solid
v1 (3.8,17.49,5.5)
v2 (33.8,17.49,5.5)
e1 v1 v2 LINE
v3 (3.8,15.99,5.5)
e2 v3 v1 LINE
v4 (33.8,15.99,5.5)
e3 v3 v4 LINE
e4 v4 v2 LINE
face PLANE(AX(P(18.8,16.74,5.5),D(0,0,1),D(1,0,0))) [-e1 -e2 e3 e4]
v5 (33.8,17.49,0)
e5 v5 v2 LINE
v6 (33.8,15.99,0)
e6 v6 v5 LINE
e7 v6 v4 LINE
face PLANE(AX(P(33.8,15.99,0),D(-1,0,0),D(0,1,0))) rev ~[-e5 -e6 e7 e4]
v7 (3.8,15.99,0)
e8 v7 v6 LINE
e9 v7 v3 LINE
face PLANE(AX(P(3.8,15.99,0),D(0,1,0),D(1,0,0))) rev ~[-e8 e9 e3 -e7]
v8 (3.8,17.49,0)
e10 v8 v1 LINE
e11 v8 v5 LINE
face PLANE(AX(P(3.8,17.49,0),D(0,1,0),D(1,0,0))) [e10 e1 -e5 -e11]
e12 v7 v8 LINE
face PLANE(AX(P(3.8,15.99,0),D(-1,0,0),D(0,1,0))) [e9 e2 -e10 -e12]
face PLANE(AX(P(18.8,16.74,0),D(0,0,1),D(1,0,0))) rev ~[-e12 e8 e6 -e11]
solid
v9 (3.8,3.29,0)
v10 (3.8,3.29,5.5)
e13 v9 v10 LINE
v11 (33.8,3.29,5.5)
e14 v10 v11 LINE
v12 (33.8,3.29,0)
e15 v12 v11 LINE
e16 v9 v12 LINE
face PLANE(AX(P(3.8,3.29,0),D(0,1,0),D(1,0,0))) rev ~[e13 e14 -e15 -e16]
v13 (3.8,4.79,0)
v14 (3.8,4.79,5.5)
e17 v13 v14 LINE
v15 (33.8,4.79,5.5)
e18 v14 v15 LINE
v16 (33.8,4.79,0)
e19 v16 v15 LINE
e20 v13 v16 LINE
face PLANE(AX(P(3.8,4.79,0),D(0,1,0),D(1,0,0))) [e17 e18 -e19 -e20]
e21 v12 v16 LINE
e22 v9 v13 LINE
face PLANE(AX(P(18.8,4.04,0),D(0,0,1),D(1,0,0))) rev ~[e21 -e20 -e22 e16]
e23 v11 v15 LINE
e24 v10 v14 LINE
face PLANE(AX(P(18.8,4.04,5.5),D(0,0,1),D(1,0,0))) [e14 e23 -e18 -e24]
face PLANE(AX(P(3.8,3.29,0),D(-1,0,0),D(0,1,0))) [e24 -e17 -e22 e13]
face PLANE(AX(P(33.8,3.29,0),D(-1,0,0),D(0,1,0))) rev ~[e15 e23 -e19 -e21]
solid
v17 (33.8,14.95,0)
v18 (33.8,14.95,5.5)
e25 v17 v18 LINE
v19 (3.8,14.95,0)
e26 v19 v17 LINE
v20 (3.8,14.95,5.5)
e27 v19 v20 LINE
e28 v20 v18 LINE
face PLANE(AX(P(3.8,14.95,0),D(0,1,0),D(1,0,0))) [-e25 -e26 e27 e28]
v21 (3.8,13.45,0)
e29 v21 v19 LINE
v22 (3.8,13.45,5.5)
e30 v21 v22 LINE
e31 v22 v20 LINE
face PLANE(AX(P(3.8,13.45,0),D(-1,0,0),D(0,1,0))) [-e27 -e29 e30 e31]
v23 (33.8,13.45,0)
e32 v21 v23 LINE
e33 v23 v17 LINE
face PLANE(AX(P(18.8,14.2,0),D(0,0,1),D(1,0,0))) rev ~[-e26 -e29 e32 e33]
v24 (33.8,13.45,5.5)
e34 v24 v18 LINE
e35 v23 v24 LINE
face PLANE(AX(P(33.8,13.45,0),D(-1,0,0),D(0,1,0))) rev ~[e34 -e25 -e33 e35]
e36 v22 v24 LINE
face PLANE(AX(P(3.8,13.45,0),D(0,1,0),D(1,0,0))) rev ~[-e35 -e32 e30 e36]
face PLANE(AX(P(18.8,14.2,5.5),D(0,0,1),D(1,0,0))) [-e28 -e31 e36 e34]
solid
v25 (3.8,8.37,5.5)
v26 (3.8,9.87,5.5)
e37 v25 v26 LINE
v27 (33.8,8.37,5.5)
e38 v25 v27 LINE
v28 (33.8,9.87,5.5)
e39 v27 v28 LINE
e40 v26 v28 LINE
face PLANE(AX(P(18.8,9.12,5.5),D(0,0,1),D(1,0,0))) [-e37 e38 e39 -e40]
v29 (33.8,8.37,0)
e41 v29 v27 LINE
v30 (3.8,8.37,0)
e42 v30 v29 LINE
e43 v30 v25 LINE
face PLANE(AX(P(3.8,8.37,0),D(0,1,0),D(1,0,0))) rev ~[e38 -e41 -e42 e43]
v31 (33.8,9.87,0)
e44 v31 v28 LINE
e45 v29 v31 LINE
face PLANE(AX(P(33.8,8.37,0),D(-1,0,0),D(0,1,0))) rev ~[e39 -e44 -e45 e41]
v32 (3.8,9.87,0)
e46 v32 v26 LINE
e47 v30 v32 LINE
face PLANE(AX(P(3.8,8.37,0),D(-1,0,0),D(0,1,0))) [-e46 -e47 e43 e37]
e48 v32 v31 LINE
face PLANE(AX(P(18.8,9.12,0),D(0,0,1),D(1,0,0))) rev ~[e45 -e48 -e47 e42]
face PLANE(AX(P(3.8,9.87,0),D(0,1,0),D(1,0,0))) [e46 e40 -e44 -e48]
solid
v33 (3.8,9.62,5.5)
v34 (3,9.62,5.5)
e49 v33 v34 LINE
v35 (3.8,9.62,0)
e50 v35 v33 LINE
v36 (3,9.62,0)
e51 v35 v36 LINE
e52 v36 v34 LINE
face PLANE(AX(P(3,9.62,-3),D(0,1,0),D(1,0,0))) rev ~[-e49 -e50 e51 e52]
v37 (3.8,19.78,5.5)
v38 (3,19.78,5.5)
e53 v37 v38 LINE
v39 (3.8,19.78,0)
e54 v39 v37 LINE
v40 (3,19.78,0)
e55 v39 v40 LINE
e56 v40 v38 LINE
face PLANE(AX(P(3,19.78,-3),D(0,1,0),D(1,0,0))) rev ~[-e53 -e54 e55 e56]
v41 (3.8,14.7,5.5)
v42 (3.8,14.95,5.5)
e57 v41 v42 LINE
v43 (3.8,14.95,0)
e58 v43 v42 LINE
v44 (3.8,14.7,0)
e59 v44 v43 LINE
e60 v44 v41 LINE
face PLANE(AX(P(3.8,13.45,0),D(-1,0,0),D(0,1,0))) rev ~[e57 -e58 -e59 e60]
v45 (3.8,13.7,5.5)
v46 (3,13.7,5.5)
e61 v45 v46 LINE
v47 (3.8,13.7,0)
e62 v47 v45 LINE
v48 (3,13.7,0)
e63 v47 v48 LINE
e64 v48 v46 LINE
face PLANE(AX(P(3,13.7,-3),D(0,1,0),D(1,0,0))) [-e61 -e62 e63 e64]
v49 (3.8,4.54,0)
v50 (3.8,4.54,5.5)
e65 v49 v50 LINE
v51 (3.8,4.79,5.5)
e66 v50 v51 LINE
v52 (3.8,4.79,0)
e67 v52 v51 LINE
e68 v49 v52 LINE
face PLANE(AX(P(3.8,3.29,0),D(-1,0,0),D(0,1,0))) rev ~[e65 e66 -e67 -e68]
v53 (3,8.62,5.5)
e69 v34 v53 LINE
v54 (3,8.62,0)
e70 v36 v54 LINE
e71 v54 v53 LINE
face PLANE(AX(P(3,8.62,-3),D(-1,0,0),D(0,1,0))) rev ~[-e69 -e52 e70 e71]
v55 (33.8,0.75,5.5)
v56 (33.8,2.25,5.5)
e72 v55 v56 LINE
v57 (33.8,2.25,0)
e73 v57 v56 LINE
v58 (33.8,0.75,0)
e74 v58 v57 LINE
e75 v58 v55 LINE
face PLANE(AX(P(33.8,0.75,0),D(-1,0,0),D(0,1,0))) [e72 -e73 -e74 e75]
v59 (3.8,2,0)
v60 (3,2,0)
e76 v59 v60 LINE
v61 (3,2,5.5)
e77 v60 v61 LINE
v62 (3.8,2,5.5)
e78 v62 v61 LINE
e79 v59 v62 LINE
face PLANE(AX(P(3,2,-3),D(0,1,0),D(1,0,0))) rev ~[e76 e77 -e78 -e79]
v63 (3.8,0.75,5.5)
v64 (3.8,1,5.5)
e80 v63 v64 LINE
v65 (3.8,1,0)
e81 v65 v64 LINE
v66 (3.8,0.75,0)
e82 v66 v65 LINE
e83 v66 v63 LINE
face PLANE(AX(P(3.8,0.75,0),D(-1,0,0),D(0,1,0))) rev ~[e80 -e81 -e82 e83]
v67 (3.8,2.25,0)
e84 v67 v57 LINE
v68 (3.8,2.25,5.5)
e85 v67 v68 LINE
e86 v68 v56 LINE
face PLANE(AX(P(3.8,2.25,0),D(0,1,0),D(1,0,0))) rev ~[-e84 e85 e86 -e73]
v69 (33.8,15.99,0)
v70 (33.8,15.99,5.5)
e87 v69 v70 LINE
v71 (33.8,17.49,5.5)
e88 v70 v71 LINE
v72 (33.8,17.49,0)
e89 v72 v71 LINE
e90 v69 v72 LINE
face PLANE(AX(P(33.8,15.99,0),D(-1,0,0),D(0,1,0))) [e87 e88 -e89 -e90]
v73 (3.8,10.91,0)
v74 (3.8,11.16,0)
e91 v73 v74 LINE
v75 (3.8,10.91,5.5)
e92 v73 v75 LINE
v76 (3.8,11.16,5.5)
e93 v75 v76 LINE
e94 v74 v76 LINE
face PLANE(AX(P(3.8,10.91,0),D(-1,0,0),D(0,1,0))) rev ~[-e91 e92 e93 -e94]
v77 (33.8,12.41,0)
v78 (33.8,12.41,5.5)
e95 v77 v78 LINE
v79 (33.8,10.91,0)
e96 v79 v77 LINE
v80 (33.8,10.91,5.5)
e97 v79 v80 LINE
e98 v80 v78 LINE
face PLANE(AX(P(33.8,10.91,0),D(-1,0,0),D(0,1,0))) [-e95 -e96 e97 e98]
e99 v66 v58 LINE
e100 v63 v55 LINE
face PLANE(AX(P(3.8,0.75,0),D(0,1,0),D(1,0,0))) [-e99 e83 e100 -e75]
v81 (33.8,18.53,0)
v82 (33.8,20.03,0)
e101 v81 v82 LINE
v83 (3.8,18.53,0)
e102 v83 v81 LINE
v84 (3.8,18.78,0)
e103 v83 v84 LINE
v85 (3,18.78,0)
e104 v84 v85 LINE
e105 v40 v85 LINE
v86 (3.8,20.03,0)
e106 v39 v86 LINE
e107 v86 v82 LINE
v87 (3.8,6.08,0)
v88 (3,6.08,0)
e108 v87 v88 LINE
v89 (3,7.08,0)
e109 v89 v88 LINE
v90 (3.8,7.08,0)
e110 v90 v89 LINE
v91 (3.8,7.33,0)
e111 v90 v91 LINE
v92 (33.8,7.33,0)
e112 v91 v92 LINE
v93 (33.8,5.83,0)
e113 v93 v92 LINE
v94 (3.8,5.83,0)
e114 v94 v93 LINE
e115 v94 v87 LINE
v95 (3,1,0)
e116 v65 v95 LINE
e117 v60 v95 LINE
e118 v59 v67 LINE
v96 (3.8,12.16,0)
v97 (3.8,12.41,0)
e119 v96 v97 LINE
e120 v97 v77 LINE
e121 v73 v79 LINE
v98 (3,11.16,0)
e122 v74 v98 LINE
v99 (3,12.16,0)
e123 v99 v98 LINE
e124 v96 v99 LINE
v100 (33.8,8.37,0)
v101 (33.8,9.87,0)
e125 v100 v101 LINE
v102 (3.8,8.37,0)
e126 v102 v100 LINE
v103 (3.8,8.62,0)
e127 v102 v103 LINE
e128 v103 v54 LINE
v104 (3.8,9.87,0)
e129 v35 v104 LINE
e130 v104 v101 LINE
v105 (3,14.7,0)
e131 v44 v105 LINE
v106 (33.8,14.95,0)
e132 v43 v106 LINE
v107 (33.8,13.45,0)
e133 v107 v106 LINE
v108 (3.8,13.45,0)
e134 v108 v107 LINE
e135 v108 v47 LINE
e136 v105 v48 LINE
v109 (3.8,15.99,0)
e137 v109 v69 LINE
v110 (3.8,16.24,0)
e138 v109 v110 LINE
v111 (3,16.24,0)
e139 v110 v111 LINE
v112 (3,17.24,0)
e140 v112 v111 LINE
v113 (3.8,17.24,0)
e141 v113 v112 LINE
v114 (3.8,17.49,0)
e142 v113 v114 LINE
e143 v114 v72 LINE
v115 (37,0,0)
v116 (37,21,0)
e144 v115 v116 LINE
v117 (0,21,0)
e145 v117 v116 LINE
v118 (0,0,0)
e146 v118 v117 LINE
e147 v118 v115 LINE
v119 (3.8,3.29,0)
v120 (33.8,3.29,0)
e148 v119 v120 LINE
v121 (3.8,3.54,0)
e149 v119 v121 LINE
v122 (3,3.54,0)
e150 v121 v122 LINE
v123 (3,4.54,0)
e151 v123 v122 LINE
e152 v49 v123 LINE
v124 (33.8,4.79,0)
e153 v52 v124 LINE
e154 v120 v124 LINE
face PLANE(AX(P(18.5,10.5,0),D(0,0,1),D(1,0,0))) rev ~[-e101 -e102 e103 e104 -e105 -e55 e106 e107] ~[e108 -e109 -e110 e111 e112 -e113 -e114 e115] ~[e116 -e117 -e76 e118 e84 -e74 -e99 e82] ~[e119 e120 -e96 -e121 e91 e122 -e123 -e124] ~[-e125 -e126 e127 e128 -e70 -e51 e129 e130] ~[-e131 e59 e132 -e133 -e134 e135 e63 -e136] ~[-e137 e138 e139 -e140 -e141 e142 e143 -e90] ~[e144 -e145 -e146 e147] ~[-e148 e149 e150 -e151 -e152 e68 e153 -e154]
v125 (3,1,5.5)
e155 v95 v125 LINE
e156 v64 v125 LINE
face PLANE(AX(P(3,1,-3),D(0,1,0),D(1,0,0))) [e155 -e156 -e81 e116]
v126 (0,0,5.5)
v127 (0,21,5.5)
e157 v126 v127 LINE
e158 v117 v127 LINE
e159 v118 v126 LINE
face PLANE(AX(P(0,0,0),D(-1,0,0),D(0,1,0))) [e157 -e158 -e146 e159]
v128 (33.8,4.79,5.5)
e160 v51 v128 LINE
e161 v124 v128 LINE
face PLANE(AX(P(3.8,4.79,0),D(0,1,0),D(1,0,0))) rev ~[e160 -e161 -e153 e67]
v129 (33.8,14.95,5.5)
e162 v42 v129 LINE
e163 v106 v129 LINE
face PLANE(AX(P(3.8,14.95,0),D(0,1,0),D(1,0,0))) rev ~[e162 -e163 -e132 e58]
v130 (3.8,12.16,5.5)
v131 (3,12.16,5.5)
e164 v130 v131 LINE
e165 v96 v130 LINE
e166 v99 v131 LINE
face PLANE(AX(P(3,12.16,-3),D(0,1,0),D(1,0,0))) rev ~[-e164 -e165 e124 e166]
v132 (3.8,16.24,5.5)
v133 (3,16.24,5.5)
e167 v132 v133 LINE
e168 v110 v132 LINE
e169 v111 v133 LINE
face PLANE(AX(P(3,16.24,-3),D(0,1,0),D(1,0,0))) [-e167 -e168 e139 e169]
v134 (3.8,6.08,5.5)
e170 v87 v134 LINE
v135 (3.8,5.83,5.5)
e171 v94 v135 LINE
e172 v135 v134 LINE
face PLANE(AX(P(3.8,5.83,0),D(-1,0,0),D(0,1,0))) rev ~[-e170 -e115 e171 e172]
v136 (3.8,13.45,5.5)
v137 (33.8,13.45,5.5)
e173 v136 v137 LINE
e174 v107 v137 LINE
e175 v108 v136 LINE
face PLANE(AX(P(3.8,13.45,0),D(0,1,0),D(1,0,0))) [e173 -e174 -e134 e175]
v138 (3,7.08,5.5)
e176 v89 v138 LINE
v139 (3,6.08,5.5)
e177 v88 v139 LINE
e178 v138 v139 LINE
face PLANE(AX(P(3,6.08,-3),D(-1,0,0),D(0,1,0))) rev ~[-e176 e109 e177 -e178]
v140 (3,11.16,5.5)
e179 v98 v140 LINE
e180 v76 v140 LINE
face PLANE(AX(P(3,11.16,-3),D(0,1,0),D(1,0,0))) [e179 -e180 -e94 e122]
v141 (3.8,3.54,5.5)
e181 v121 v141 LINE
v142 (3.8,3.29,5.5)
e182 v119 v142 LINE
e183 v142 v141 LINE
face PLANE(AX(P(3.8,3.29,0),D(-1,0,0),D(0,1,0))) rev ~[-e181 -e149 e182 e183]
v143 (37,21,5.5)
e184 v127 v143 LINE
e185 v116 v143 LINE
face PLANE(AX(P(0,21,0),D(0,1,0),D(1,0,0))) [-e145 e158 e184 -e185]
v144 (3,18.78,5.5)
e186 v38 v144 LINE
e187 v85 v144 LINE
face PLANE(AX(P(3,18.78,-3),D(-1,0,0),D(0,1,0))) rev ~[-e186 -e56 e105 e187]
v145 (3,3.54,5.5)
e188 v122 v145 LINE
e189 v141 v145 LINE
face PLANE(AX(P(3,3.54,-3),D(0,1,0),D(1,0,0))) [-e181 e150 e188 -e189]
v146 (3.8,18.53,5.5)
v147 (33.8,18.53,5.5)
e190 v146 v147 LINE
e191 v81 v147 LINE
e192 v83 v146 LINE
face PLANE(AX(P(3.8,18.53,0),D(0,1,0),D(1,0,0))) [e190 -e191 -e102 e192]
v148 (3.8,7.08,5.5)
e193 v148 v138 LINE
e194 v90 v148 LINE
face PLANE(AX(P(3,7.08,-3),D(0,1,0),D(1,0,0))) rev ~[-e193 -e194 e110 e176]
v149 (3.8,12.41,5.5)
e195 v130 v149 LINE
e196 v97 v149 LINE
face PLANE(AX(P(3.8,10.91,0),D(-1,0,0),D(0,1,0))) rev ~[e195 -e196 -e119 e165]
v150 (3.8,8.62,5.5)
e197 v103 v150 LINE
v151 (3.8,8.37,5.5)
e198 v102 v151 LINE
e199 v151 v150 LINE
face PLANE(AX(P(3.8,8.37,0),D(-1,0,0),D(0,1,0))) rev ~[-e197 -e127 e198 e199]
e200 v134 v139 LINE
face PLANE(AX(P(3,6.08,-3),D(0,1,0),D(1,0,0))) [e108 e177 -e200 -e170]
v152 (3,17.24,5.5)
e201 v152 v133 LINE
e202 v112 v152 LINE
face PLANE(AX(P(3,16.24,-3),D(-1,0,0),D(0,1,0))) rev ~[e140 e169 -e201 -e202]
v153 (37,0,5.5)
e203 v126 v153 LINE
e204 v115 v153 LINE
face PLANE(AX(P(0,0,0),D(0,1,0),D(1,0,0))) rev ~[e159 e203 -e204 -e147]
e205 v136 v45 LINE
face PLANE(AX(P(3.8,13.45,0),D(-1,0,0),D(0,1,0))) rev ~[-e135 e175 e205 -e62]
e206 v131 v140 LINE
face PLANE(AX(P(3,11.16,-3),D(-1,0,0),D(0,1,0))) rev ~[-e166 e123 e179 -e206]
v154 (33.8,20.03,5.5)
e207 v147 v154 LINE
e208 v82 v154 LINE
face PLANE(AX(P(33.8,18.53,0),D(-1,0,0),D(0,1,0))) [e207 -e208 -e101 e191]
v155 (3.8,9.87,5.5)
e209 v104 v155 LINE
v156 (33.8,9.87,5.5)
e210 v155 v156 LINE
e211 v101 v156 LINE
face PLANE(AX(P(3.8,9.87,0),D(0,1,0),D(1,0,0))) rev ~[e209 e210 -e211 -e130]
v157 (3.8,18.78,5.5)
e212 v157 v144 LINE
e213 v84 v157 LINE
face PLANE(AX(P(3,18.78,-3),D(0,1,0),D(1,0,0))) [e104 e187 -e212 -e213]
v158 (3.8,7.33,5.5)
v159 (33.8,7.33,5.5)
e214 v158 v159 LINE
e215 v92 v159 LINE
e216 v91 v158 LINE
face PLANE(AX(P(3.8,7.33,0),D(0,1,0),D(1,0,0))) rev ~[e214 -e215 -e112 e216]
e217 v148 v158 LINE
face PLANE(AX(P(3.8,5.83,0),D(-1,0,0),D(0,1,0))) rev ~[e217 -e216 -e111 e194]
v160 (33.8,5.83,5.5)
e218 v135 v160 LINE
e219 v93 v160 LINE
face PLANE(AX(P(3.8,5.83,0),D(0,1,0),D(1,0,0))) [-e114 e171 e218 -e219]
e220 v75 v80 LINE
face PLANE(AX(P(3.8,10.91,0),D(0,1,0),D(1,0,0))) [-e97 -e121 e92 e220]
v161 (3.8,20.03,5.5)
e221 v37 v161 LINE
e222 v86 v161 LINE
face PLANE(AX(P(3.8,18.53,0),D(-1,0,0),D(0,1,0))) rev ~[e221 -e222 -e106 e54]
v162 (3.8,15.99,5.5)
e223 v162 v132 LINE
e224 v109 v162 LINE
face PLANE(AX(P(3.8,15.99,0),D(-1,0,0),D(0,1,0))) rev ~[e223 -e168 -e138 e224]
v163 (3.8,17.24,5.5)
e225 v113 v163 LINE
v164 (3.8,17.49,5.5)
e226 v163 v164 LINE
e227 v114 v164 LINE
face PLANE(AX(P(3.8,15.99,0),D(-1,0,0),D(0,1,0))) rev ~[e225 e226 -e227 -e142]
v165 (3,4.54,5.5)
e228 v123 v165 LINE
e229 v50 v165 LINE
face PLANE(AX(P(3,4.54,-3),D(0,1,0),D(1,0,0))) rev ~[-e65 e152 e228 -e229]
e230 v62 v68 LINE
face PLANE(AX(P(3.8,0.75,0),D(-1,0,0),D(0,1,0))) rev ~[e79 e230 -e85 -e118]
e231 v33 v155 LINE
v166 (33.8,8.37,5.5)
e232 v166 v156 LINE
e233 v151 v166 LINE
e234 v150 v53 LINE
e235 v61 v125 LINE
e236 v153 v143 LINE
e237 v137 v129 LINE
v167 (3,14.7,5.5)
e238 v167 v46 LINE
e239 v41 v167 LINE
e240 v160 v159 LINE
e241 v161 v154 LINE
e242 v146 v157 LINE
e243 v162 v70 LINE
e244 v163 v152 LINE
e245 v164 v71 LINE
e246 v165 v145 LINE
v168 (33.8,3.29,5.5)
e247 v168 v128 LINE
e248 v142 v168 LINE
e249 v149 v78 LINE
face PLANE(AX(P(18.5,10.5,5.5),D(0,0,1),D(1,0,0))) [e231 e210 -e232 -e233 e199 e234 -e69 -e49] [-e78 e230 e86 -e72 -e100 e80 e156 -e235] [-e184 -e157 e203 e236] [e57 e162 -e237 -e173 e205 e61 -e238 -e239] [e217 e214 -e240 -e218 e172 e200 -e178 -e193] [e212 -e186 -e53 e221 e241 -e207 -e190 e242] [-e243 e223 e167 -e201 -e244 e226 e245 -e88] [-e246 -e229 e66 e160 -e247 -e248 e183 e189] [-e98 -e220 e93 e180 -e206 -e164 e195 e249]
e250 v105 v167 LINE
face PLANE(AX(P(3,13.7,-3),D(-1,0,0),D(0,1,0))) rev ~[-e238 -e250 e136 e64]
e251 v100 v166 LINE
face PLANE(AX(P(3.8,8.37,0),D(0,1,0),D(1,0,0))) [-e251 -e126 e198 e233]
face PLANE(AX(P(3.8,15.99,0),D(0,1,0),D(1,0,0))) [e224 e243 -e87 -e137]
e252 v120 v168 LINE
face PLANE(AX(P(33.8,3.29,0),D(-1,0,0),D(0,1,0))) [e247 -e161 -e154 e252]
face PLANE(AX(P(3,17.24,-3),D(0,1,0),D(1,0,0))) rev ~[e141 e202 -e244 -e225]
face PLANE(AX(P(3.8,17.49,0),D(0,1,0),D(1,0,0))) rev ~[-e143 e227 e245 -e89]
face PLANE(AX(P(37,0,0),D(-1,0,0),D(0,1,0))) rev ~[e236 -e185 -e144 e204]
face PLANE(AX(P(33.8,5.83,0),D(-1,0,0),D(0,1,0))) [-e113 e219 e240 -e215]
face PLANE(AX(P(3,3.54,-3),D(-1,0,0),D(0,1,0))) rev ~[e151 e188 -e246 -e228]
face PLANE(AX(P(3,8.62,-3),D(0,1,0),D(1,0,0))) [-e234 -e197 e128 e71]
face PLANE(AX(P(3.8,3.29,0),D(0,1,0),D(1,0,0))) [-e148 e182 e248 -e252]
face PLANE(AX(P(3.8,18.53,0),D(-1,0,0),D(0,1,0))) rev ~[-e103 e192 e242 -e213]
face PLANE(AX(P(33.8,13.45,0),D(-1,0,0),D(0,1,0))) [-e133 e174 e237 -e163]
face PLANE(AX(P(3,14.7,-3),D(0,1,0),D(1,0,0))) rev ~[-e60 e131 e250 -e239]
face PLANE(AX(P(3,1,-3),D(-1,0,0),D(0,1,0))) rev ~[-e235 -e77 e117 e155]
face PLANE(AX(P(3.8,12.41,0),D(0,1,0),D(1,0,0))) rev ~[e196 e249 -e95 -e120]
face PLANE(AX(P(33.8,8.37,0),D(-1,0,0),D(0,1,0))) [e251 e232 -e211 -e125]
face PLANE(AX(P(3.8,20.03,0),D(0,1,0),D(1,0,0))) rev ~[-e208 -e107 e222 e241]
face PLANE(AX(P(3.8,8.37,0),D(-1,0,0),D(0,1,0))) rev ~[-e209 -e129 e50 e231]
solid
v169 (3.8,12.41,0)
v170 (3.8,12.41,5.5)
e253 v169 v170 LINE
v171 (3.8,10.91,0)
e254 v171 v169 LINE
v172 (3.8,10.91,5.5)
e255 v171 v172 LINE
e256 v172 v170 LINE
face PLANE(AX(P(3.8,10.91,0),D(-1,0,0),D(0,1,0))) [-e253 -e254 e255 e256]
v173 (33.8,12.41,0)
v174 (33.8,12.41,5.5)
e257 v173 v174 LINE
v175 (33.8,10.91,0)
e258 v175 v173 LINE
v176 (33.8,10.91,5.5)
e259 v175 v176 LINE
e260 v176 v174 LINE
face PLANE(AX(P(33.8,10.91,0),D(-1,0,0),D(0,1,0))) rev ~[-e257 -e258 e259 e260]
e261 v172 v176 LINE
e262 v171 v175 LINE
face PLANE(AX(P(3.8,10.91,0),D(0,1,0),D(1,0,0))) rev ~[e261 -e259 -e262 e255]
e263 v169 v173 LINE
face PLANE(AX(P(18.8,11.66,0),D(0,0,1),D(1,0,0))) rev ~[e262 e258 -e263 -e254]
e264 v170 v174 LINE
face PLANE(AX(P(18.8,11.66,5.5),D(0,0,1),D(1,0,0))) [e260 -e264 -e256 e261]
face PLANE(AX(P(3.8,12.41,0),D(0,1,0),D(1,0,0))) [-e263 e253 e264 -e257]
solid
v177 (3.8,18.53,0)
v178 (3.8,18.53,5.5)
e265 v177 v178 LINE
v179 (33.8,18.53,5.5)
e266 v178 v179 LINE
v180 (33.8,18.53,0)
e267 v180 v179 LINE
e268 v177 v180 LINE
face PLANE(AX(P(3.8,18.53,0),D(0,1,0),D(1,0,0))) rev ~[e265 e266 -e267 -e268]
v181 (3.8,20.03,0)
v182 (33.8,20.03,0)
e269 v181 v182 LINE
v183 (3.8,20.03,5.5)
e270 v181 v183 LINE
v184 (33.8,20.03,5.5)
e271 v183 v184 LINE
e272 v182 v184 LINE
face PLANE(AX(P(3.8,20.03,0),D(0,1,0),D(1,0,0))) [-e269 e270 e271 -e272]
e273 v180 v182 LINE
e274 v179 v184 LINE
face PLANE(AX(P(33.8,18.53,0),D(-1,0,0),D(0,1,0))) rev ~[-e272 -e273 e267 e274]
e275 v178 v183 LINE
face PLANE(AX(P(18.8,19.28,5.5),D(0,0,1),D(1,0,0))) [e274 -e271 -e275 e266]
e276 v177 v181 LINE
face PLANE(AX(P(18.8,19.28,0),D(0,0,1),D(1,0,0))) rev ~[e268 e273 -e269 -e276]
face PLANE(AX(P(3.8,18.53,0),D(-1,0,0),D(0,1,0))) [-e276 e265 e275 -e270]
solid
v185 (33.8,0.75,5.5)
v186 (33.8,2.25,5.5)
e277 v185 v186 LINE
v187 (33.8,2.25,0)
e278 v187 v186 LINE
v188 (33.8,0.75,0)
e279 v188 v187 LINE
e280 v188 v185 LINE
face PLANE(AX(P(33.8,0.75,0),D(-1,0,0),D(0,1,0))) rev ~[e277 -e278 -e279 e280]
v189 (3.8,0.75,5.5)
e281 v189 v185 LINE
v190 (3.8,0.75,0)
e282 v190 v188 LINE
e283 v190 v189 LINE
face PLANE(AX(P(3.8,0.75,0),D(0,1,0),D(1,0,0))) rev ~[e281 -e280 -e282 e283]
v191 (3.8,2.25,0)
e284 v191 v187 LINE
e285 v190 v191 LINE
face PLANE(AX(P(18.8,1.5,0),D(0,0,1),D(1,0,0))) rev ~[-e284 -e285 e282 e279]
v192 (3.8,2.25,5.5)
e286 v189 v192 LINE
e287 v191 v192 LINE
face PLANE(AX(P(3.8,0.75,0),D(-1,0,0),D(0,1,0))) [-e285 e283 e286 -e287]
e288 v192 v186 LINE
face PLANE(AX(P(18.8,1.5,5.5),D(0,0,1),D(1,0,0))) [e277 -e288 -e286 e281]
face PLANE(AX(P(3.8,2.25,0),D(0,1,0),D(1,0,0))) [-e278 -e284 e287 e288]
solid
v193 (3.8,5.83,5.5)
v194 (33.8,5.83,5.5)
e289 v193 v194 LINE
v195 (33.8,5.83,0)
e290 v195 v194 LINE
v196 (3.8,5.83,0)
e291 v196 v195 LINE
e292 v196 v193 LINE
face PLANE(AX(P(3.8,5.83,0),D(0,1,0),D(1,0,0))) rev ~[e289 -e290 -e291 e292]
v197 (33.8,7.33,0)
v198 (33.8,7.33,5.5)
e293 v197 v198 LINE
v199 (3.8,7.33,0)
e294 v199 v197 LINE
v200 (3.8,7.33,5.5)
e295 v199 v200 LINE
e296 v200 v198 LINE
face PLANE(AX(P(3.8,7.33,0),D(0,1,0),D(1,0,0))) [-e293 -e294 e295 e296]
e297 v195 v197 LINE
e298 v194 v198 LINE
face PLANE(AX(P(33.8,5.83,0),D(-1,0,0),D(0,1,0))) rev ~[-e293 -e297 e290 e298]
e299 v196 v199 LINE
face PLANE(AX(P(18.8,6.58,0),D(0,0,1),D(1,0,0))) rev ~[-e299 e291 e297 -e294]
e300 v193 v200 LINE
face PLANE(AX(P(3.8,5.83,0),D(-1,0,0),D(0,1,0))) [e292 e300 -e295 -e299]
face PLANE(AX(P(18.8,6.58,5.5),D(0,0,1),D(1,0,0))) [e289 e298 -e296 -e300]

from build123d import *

# Parameters (mm, degrees)
BOX010_W     = 30
BOX010_H     = 1.5
BOX010_DEPTH = 5.5
BOX011_W     = 30
BOX011_H     = 1.5
BOX011_DEPTH = 5.5
BOX012_W     = 30
BOX012_H     = 1.5
BOX012_DEPTH = 5.5
BOX013_W     = 30
BOX013_H     = 1.5
BOX013_DEPTH = 5.5
BOX014_W     = 30
BOX014_H     = 1.5
BOX014_DEPTH = 5.5
BOX015_W     = 30
BOX015_H     = 1.5
BOX015_DEPTH = 5.5
BOX016_W     = 30
BOX016_H     = 1.5
BOX016_DEPTH = 5.5
BOX009_W     = 30
BOX009_H     = 1.5
BOX009_DEPTH = 5.5
BOX018_W     = 30
BOX018_H     = 1.5
BOX018_DEPTH = 5.5
BOX019_W     = 30
BOX019_H     = 1.5
BOX019_DEPTH = 5.5
BOX020_W     = 30
BOX020_H     = 1.5
BOX020_DEPTH = 5.5
BOX021_W     = 30
BOX021_H     = 1.5
BOX021_DEPTH = 5.5
BOX022_W     = 30
BOX022_H     = 1.5
BOX022_DEPTH = 5.5
BOX023_W     = 30
BOX023_H     = 1.5
BOX023_DEPTH = 5.5
BOX024_W     = 30
BOX024_H     = 1.5
BOX024_DEPTH = 5.5
BOX017_W     = 30
BOX017_H     = 1.5
BOX017_DEPTH = 5.5
BOX002_W     = 0.8
BOX002_H     = 1
BOX002_DEPTH = 10
BOX003_W     = 0.8
BOX003_H     = 1
BOX003_DEPTH = 10
BOX004_W     = 0.8
BOX004_H     = 1
BOX004_DEPTH = 10
BOX005_W     = 0.8
BOX005_H     = 1
BOX005_DEPTH = 10
BOX006_W     = 0.8
BOX006_H     = 1
BOX006_DEPTH = 10
BOX007_W     = 0.8
BOX007_H     = 1
BOX007_DEPTH = 10
BOX008_W     = 0.8
BOX008_H     = 1
BOX008_DEPTH = 10
BOX001_W     = 0.8
BOX001_H     = 1
BOX001_DEPTH = 10
BOX_W        = 37
BOX_H        = 21
BOX_DEPTH    = 5.5


with BuildPart() as cube010:
    # Box010 → Box010 (new body)
    with BuildSketch(Plane(origin=(3.8, 3.29, 0), x_dir=(1, 0, 0), z_dir=(0, 0, 1))):
        with Locations((15, 0.75)):
            Rectangle(BOX010_W, BOX010_H)
    extrude(amount=BOX010_DEPTH)


with BuildPart() as cube011:
    # Box011 → Box011 (new body)
    with BuildSketch(Plane(origin=(3.8, 5.83, 0), x_dir=(1, 0, 0), z_dir=(0, 0, 1))):
        with Locations((15, 0.75)):
            Rectangle(BOX011_W, BOX011_H)
    extrude(amount=BOX011_DEPTH)


with BuildPart() as cube012:
    # Box012 → Box012 (new body)
    with BuildSketch(Plane(origin=(3.8, 8.37, 0), x_dir=(1, 0, 0), z_dir=(0, 0, 1))):
        with Locations((15, 0.75)):
            Rectangle(BOX012_W, BOX012_H)
    extrude(amount=BOX012_DEPTH)


with BuildPart() as cube013:
    # Box013 → Box013 (new body)
    with BuildSketch(Plane(origin=(3.8, 10.91, 0), x_dir=(1, 0, 0), z_dir=(0, 0, 1))):
        with Locations((15, 0.75)):
            Rectangle(BOX013_W, BOX013_H)
    extrude(amount=BOX013_DEPTH)


with BuildPart() as cube014:
    # Box014 → Box014 (new body)
    with BuildSketch(Plane(origin=(3.8, 13.45, 0), x_dir=(1, 0, 0), z_dir=(0, 0, 1))):
        with Locations((15, 0.75)):
            Rectangle(BOX014_W, BOX014_H)
    extrude(amount=BOX014_DEPTH)


with BuildPart() as cube015:
    # Box015 → Box015 (new body)
    with BuildSketch(Plane(origin=(3.8, 15.99, 0), x_dir=(1, 0, 0), z_dir=(0, 0, 1))):
        with Locations((15, 0.75)):
            Rectangle(BOX015_W, BOX015_H)
    extrude(amount=BOX015_DEPTH)


with BuildPart() as cube016:
    # Box016 → Box016 (new body)
    with BuildSketch(Plane(origin=(3.8, 18.53, 0), x_dir=(1, 0, 0), z_dir=(0, 0, 1))):
        with Locations((15, 0.75)):
            Rectangle(BOX016_W, BOX016_H)
    extrude(amount=BOX016_DEPTH)


with BuildPart() as conducting_filament:
    # Box009 → Box009 (new body)
    with BuildSketch(Plane(origin=(3.8, 0.75, 0), x_dir=(1, 0, 0), z_dir=(0, 0, 1))):
        with Locations((15, 0.75)):
            Rectangle(BOX009_W, BOX009_H)
    extrude(amount=BOX009_DEPTH)

    # Fusion: union Cube010, Cube011, Cube012, Cube013, Cube014, Cube015, Cube016
    add(cube010.part)
    add(cube011.part)
    add(cube012.part)
    add(cube013.part)
    add(cube014.part)
    add(cube015.part)
    add(cube016.part)


with BuildPart() as cube018:
    # Box018 → Box018 (new body)
    with BuildSketch(Plane(origin=(3.8, 10.91, 0), x_dir=(1, 0, 0), z_dir=(0, 0, 1))):
        with Locations((15, 0.75)):
            Rectangle(BOX018_W, BOX018_H)
    extrude(amount=BOX018_DEPTH)


with BuildPart() as cube019:
    # Box019 → Box019 (new body)
    with BuildSketch(Plane(origin=(3.8, 3.29, 0), x_dir=(1, 0, 0), z_dir=(0, 0, 1))):
        with Locations((15, 0.75)):
            Rectangle(BOX019_W, BOX019_H)
    extrude(amount=BOX019_DEPTH)


with BuildPart() as cube020:
    # Box020 → Box020 (new body)
    with BuildSketch(Plane(origin=(3.8, 5.83, 0), x_dir=(1, 0, 0), z_dir=(0, 0, 1))):
        with Locations((15, 0.75)):
            Rectangle(BOX020_W, BOX020_H)
    extrude(amount=BOX020_DEPTH)


with BuildPart() as cube021:
    # Box021 → Box021 (new body)
    with BuildSketch(Plane(origin=(3.8, 18.53, 0), x_dir=(1, 0, 0), z_dir=(0, 0, 1))):
        with Locations((15, 0.75)):
            Rectangle(BOX021_W, BOX021_H)
    extrude(amount=BOX021_DEPTH)


with BuildPart() as cube022:
    # Box022 → Box022 (new body)
    with BuildSketch(Plane(origin=(3.8, 15.99, 0), x_dir=(1, 0, 0), z_dir=(0, 0, 1))):
        with Locations((15, 0.75)):
            Rectangle(BOX022_W, BOX022_H)
    extrude(amount=BOX022_DEPTH)


with BuildPart() as cube023:
    # Box023 → Box023 (new body)
    with BuildSketch(Plane(origin=(3.8, 8.37, 0), x_dir=(1, 0, 0), z_dir=(0, 0, 1))):
        with Locations((15, 0.75)):
            Rectangle(BOX023_W, BOX023_H)
    extrude(amount=BOX023_DEPTH)


with BuildPart() as cube024:
    # Box024 → Box024 (new body)
    with BuildSketch(Plane(origin=(3.8, 13.45, 0), x_dir=(1, 0, 0), z_dir=(0, 0, 1))):
        with Locations((15, 0.75)):
            Rectangle(BOX024_W, BOX024_H)
    extrude(amount=BOX024_DEPTH)


with BuildPart() as fusion002:
    # Box017 → Box017 (new body)
    with BuildSketch(Plane(origin=(3.8, 0.75, 0), x_dir=(1, 0, 0), z_dir=(0, 0, 1))):
        with Locations((15, 0.75)):
            Rectangle(BOX017_W, BOX017_H)
    extrude(amount=BOX017_DEPTH)

    # Fusion002: union Cube018, Cube019, Cube020, Cube021, Cube022, Cube023, Cube024
    add(cube018.part)
    add(cube019.part)
    add(cube020.part)
    add(cube021.part)
    add(cube022.part)
    add(cube023.part)
    add(cube024.part)


with BuildPart() as cube002:
    # Box002 → Box002 (new body)
    with BuildSketch(Plane(origin=(3, 3.54, -3), x_dir=(1, 0, 0), z_dir=(0, 0, 1))):
        with Locations((0.4, 0.5)):
            Rectangle(BOX002_W, BOX002_H)
    extrude(amount=BOX002_DEPTH)


with BuildPart() as cube003:
    # Box003 → Box003 (new body)
    with BuildSketch(Plane(origin=(3, 6.08, -3), x_dir=(1, 0, 0), z_dir=(0, 0, 1))):
        with Locations((0.4, 0.5)):
            Rectangle(BOX003_W, BOX003_H)
    extrude(amount=BOX003_DEPTH)


with BuildPart() as cube004:
    # Box004 → Box004 (new body)
    with BuildSketch(Plane(origin=(3, 8.62, -3), x_dir=(1, 0, 0), z_dir=(0, 0, 1))):
        with Locations((0.4, 0.5)):
            Rectangle(BOX004_W, BOX004_H)
    extrude(amount=BOX004_DEPTH)


with BuildPart() as cube005:
    # Box005 → Box005 (new body)
    with BuildSketch(Plane(origin=(3, 11.16, -3), x_dir=(1, 0, 0), z_dir=(0, 0, 1))):
        with Locations((0.4, 0.5)):
            Rectangle(BOX005_W, BOX005_H)
    extrude(amount=BOX005_DEPTH)


with BuildPart() as cube006:
    # Box006 → Box006 (new body)
    with BuildSketch(Plane(origin=(3, 13.7, -3), x_dir=(1, 0, 0), z_dir=(0, 0, 1))):
        with Locations((0.4, 0.5)):
            Rectangle(BOX006_W, BOX006_H)
    extrude(amount=BOX006_DEPTH)


with BuildPart() as cube007:
    # Box007 → Box007 (new body)
    with BuildSketch(Plane(origin=(3, 16.24, -3), x_dir=(1, 0, 0), z_dir=(0, 0, 1))):
        with Locations((0.4, 0.5)):
            Rectangle(BOX007_W, BOX007_H)
    extrude(amount=BOX007_DEPTH)


with BuildPart() as cube008:
    # Box008 → Box008 (new body)
    with BuildSketch(Plane(origin=(3, 18.78, -3), x_dir=(1, 0, 0), z_dir=(0, 0, 1))):
        with Locations((0.4, 0.5)):
            Rectangle(BOX008_W, BOX008_H)
    extrude(amount=BOX008_DEPTH)


with BuildPart() as fusion001:
    # Box001 → Box001 (new body)
    with BuildSketch(Plane(origin=(3, 1, -3), x_dir=(1, 0, 0), z_dir=(0, 0, 1))):
        with Locations((0.4, 0.5)):
            Rectangle(BOX001_W, BOX001_H)
    extrude(amount=BOX001_DEPTH)

    # Fusion001: union Cube002, Cube003, Cube004, Cube005, Cube006, Cube007, Cube008
    add(cube002.part)
    add(cube003.part)
    add(cube004.part)
    add(cube005.part)
    add(cube006.part)
    add(cube007.part)
    add(cube008.part)


with BuildPart() as main_body:
    # Box → Box (new body)
    with BuildSketch(Plane.XY):
        with Locations((18.5, 10.5)):
            Rectangle(BOX_W, BOX_H)
    extrude(amount=BOX_DEPTH)

    # Cut: cut Fusion001
    add(fusion001.part, mode=Mode.SUBTRACT)

    # Cut001: cut Fusion002
    add(fusion002.part, mode=Mode.SUBTRACT)


solid = Compound([conducting_filament.part, main_body.part])
